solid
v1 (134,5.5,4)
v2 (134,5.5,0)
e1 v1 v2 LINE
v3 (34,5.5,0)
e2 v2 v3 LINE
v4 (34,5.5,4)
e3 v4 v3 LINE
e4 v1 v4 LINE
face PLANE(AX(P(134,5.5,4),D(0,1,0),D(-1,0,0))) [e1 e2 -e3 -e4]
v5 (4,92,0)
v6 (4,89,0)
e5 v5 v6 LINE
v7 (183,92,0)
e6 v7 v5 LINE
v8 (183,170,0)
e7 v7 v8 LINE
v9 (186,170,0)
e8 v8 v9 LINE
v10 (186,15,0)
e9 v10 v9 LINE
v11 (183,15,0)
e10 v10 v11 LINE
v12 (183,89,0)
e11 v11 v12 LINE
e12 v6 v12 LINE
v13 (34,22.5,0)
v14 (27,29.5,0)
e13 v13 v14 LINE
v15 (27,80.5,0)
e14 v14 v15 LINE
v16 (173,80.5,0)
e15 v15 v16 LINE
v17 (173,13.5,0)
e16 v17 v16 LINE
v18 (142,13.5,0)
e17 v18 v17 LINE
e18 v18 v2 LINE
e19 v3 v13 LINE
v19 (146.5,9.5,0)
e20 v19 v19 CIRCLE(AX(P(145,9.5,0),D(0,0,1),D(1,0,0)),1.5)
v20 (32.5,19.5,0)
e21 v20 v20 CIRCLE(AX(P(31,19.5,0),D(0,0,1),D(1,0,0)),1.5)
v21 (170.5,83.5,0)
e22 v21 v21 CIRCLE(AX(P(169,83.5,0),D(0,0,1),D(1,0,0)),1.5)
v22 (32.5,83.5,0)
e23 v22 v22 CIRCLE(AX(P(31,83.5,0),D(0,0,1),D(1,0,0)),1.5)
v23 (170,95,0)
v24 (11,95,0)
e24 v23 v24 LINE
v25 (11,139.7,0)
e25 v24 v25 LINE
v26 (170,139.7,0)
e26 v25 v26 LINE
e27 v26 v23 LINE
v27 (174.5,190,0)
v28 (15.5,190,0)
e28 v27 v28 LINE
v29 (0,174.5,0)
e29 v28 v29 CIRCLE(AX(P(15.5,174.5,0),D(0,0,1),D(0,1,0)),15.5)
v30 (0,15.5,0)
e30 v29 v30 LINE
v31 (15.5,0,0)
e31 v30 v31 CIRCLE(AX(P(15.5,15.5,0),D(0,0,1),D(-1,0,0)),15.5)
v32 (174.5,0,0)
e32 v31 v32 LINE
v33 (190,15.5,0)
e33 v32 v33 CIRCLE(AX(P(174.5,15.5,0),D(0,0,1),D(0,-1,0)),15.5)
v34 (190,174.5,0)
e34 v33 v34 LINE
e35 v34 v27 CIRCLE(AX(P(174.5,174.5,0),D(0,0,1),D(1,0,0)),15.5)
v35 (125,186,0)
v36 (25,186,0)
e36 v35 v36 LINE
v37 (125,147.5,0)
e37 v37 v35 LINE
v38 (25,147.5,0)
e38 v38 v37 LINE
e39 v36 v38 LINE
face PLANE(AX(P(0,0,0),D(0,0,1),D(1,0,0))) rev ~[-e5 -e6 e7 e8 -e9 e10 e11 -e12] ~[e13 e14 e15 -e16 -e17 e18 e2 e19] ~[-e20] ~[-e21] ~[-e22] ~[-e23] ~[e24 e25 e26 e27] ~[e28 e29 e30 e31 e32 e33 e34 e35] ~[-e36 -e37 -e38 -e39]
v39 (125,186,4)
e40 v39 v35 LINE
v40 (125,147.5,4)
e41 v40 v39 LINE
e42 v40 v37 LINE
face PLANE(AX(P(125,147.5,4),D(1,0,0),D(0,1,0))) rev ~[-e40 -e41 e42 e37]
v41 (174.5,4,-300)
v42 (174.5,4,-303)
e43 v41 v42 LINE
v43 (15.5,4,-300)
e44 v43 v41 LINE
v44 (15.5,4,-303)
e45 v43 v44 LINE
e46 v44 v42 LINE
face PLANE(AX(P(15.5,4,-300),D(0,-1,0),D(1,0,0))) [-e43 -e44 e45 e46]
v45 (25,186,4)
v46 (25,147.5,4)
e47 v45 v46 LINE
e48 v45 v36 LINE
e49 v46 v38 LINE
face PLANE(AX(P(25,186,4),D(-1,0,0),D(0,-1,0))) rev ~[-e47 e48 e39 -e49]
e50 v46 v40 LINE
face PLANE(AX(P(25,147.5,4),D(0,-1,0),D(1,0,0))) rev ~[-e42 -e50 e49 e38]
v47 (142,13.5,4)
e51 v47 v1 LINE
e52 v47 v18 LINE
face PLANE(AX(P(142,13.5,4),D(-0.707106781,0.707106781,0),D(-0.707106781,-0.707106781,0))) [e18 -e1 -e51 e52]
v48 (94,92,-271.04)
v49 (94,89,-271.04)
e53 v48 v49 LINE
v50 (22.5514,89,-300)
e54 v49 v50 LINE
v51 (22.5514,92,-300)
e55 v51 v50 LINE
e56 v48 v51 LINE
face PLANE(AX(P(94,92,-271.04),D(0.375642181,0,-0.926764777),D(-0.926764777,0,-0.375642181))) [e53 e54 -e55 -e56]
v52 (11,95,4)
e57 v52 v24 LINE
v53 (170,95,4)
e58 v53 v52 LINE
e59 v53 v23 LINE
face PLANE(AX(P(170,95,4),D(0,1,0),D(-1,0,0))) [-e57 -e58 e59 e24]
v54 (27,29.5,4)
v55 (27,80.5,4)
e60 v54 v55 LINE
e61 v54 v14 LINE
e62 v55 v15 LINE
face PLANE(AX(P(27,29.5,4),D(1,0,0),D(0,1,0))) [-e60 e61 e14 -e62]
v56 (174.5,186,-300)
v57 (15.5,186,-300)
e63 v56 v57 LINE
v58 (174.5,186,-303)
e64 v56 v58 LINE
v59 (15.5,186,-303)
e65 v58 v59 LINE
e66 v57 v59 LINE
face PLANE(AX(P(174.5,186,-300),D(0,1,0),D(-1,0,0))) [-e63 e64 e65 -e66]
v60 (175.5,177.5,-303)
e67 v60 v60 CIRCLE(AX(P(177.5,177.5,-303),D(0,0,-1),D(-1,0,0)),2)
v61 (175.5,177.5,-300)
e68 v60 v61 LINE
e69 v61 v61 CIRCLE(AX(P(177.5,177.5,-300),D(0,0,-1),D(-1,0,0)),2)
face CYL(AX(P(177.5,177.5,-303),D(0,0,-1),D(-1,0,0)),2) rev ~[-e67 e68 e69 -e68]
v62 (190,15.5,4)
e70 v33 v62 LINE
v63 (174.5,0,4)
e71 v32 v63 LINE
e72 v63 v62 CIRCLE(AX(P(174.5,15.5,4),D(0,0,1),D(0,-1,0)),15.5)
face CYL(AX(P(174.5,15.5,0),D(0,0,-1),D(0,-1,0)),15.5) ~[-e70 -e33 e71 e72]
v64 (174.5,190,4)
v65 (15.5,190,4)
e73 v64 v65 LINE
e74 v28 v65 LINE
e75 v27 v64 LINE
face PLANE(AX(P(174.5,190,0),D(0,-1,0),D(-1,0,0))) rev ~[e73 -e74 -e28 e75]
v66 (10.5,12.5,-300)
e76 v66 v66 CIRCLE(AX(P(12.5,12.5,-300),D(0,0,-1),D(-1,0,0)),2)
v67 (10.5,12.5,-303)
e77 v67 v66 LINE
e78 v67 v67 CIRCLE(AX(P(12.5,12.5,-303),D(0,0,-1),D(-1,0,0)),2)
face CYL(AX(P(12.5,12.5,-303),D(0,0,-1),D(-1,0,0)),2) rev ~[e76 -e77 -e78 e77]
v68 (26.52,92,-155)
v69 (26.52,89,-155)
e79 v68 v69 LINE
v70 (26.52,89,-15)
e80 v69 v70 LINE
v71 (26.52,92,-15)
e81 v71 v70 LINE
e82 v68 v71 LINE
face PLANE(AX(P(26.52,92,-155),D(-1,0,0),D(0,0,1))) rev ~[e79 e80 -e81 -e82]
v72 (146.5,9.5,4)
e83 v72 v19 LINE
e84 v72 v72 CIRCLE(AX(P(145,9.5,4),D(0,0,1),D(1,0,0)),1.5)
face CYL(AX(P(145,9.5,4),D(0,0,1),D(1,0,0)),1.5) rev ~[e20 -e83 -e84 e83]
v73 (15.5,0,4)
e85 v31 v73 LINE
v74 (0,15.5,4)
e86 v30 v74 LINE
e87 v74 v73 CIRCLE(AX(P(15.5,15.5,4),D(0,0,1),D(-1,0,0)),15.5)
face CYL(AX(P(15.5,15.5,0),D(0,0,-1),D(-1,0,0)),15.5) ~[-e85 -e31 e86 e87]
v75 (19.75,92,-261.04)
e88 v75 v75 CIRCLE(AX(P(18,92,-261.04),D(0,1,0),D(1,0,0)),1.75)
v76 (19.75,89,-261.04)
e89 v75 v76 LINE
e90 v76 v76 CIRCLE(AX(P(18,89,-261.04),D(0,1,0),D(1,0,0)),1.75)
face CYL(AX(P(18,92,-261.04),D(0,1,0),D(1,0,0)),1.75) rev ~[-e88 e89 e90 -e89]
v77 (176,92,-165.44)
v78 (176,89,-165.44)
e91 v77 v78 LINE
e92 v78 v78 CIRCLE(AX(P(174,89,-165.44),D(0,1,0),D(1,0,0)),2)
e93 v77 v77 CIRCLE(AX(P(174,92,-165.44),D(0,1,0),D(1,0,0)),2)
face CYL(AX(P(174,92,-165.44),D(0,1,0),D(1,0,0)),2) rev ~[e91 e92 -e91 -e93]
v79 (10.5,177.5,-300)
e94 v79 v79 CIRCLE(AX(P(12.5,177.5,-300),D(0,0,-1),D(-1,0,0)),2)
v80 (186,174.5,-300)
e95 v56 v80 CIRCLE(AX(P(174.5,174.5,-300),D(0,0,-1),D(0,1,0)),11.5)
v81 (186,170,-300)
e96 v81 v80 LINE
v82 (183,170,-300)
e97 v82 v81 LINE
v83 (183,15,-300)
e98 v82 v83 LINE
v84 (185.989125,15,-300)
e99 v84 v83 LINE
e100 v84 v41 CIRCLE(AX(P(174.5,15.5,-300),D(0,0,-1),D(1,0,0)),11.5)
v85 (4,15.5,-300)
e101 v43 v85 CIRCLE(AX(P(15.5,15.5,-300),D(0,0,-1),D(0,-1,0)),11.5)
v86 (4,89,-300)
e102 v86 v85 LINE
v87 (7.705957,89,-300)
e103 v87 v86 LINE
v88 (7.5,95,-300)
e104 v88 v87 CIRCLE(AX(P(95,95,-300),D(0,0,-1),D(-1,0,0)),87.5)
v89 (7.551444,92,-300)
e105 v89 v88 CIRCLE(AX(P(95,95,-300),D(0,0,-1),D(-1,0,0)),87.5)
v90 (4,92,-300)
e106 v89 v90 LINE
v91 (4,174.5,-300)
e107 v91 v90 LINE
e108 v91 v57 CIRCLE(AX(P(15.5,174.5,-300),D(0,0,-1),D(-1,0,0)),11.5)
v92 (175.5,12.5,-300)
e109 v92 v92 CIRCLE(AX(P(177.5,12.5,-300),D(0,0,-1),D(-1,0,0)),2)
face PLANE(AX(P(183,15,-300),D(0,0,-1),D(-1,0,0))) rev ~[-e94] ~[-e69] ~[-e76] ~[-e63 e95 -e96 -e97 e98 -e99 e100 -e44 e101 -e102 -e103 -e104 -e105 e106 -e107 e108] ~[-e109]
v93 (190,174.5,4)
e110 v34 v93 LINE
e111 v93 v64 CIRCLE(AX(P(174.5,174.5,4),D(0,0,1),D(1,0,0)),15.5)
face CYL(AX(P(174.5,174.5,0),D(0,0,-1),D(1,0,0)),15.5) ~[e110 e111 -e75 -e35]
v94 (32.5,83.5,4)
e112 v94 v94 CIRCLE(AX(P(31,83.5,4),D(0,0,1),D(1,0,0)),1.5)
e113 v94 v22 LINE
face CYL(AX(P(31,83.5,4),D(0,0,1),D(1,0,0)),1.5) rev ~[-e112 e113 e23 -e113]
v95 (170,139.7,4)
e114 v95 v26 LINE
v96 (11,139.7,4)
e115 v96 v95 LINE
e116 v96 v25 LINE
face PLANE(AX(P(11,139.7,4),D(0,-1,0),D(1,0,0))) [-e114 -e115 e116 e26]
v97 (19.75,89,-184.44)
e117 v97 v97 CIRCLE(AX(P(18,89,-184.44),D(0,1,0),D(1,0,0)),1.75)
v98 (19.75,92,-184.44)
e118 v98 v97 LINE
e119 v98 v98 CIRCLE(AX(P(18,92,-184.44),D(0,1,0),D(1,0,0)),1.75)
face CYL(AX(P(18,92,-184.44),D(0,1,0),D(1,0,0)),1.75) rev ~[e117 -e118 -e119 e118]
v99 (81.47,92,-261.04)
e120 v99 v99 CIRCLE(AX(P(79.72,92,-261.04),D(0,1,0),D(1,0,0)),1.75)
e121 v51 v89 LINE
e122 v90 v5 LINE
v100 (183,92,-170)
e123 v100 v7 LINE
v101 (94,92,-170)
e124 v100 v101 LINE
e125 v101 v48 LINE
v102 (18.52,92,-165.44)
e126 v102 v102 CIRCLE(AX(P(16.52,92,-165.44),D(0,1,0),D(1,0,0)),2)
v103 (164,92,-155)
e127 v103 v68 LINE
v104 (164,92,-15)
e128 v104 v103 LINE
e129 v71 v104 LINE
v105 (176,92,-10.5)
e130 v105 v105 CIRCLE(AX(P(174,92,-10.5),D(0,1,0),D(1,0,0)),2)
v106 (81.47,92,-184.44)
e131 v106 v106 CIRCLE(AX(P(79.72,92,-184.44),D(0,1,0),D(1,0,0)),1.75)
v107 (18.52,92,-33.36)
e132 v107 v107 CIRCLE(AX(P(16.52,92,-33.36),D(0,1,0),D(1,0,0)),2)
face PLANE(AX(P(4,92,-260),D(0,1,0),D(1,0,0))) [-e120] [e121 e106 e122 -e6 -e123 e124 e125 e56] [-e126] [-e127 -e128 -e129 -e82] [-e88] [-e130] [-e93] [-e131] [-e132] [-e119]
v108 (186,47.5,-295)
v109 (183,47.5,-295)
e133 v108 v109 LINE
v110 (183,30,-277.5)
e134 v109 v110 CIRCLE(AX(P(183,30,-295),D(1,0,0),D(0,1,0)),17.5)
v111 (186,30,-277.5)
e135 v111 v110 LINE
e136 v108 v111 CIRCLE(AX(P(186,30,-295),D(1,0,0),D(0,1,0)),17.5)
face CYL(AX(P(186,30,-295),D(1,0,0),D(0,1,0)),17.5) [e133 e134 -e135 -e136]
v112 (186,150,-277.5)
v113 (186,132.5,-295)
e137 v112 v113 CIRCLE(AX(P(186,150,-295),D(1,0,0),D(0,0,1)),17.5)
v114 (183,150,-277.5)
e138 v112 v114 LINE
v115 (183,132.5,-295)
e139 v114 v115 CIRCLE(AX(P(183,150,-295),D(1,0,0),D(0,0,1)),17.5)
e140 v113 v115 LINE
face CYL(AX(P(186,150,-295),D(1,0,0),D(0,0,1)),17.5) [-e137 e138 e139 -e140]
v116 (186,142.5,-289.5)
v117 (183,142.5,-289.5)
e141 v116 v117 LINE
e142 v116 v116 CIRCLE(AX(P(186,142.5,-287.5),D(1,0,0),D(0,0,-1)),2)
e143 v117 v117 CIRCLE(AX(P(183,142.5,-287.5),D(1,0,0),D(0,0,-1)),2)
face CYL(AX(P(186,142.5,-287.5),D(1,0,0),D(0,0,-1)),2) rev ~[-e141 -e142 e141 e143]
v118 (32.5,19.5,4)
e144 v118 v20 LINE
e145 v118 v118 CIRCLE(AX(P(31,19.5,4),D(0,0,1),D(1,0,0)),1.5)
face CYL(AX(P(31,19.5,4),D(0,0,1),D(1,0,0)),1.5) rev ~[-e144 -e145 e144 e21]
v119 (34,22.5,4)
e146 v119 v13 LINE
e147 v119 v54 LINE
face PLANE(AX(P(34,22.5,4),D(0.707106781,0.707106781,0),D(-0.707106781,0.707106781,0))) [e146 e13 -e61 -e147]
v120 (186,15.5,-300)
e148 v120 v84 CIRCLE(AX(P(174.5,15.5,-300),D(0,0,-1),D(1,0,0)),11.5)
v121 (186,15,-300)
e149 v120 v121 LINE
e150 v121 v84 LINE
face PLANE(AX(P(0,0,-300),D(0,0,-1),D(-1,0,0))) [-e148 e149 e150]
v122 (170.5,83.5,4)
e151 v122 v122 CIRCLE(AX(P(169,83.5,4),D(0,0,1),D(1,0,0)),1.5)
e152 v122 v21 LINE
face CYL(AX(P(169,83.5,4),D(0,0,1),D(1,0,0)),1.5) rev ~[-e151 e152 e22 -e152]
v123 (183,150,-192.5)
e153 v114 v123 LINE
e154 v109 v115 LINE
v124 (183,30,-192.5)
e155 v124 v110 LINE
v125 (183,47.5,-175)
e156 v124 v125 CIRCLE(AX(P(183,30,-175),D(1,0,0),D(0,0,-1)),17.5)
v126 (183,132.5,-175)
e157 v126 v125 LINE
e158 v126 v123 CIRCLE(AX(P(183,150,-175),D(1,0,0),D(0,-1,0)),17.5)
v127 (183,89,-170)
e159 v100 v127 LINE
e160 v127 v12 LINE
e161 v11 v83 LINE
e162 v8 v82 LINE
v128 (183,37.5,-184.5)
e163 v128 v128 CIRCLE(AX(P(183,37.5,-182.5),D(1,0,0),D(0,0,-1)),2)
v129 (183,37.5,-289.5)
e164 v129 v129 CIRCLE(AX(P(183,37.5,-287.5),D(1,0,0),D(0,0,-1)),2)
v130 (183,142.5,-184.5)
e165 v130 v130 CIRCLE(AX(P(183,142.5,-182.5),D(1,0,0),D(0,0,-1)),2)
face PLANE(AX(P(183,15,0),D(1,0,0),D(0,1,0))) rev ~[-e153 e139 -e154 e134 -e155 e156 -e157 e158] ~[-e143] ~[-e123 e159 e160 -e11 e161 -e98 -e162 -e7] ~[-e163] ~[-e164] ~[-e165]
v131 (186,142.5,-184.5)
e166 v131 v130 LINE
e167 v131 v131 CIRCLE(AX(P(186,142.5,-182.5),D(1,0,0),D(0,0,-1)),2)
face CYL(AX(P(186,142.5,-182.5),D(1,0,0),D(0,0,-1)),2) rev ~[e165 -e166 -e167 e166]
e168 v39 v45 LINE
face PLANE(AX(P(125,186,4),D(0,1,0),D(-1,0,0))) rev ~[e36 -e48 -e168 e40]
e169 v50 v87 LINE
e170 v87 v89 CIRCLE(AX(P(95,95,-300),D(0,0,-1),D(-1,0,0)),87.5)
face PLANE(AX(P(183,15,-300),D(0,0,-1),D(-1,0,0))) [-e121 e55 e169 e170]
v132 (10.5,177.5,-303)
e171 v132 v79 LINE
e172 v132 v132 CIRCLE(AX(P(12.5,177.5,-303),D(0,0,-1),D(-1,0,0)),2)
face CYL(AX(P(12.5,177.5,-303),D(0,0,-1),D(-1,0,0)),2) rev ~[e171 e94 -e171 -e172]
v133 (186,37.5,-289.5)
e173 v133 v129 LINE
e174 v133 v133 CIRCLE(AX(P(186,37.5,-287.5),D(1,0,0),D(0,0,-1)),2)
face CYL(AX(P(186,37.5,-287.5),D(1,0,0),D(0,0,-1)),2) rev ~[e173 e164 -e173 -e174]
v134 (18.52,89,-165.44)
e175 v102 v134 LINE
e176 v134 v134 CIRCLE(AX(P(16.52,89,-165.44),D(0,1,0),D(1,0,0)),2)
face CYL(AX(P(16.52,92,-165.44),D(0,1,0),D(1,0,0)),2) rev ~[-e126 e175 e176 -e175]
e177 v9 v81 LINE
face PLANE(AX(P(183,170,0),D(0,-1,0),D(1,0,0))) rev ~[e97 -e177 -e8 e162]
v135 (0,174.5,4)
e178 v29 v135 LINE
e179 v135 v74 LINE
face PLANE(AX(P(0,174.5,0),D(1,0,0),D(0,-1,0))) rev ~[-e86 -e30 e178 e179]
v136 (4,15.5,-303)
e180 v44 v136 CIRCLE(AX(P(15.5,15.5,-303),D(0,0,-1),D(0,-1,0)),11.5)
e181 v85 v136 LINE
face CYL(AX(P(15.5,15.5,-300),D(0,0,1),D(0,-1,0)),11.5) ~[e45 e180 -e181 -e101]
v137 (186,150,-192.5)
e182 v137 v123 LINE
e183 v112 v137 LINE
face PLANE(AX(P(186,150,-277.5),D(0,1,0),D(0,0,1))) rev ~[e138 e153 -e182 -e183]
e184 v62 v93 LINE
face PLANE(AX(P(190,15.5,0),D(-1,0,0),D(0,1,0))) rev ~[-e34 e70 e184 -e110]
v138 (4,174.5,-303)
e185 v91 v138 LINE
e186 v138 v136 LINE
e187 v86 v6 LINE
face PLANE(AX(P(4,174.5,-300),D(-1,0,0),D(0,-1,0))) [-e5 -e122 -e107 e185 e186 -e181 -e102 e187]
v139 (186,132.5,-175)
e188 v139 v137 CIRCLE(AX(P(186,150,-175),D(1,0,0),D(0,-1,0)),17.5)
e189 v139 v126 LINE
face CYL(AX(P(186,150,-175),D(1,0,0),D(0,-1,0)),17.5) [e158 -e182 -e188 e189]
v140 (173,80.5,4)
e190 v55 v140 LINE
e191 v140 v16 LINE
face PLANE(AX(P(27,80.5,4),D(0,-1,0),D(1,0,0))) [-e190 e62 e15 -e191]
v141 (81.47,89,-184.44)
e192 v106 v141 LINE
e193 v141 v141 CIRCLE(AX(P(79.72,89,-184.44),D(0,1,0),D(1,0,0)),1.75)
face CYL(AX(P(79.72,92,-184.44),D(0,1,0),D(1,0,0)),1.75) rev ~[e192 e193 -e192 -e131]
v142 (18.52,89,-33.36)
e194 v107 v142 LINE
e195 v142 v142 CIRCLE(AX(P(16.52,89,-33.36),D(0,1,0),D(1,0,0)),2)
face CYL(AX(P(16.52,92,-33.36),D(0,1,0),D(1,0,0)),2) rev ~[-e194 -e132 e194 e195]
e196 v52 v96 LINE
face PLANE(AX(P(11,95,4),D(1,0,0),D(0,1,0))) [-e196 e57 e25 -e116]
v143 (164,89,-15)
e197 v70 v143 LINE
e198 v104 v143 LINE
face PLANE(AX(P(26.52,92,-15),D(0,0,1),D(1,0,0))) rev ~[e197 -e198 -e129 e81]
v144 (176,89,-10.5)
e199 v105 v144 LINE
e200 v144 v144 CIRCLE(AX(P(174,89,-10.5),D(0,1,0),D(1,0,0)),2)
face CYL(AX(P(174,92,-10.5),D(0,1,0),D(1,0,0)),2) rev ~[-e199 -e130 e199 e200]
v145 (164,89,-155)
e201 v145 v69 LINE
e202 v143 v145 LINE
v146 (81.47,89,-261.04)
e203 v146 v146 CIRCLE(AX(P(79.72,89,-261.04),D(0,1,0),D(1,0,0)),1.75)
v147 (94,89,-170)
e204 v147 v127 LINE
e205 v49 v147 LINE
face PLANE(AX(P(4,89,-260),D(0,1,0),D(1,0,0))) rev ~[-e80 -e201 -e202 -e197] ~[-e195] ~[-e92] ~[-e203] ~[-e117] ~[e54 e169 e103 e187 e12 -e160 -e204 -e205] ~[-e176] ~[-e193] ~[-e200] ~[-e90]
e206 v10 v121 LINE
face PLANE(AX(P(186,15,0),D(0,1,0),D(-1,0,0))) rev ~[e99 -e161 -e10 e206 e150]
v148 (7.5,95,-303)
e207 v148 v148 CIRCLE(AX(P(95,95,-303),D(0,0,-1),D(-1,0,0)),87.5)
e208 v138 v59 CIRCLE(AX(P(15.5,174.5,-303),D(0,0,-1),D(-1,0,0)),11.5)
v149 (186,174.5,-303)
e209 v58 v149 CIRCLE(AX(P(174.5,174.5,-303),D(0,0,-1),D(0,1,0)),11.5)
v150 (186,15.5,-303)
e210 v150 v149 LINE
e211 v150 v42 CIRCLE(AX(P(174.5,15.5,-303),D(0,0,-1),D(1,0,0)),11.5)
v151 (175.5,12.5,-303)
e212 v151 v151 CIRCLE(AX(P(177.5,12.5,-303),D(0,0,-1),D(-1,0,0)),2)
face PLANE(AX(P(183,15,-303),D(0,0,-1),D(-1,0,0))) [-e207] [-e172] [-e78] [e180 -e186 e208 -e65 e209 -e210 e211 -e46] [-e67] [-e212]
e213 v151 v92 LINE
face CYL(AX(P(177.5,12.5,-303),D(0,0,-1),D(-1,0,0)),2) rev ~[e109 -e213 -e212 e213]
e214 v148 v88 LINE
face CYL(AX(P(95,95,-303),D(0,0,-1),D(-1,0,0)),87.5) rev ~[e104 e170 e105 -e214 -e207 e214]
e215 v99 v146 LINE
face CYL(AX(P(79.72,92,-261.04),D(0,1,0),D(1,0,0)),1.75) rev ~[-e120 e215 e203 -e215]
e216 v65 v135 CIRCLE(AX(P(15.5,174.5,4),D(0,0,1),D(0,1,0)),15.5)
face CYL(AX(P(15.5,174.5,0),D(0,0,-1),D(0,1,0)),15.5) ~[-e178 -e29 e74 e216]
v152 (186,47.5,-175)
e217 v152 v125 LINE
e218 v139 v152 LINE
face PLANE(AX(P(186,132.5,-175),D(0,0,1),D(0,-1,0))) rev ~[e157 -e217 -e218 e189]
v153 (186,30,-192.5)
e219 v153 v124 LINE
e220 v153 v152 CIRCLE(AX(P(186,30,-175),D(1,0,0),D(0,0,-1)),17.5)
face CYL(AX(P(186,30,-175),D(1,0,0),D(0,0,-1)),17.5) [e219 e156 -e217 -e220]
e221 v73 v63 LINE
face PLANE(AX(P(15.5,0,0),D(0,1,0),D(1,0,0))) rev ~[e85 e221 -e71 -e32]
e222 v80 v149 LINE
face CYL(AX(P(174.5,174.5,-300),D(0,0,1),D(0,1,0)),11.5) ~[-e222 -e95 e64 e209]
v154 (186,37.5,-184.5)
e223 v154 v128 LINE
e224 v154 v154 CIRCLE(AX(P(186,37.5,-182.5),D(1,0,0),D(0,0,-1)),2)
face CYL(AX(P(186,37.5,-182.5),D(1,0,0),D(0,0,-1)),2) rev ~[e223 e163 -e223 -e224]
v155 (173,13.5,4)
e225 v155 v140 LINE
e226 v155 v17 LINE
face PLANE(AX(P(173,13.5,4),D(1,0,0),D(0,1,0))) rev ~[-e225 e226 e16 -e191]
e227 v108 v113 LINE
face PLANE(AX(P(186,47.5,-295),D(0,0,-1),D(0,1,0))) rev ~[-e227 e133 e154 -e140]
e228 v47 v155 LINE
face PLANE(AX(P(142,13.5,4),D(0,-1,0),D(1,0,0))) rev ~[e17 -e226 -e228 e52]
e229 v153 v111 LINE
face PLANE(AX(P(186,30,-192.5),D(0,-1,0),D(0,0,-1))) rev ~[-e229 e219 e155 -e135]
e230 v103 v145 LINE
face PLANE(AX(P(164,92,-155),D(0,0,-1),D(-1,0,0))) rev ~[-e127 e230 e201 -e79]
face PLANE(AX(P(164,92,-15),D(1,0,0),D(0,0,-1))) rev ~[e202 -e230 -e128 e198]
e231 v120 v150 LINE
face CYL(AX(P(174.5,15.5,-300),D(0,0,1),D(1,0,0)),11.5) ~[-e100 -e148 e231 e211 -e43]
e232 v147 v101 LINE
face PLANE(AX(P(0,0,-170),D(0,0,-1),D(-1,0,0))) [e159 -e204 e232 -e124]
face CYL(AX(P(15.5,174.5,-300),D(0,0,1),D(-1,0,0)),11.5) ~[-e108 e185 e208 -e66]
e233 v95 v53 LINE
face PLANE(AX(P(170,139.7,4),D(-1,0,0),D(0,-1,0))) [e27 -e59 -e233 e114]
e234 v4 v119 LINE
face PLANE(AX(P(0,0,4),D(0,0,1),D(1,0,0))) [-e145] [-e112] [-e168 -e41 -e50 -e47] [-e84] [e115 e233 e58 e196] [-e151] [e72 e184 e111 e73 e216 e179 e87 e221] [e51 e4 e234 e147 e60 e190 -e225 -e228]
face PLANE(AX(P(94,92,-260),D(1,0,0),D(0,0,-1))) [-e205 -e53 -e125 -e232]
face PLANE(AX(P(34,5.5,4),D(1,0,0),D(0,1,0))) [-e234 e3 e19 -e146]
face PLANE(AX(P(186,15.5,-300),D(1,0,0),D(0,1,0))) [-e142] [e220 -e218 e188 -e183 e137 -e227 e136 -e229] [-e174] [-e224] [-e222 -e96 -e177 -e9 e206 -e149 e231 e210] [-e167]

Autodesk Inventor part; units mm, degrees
ref_plane "YZ Plane" through (0, 0, 0) normal (1, 0, 0) x (0, 1, 0)
ref_plane "XZ Plane" through (0, 0, 0) normal (0, 1, 0) x (-1, 0, 0)
ref_plane "XY Plane" through (0, 0, 0) normal (0, 0, 1) x (1, 0, 0)
sketch "Sketch1" plane through (0, 0, 0) normal (0, 0, 1) x (1, 0, 0)
  line L0 (15.5, 0) -> (174.5, 0)
  line L1 (190, 15.5) -> (190, 174.5)
  line L2 (174.5, 190) -> (15.5, 190)
  line L3 (0, 174.5) -> (0, 15.5)
  arc A0 (15.5, 190) -> (0, 174.5) centre (15.5, 174.5) ccw
  arc A1 (190, 174.5) -> (174.5, 190) centre (174.5, 174.5) ccw
  arc A2 (174.5, 0) -> (190, 15.5) centre (174.5, 15.5) ccw
  arc A3 (0, 15.5) -> (15.5, 0) centre (15.5, 15.5) ccw
  line L4 (15.5, 186.5) -> (174.5, 186.5) construction
  arc A4 (186.5, 174.5) -> (174.5, 186.5) centre (174.5, 174.5) ccw construction
  line L5 (186.5, 174.5) -> (186.5, 15.5) construction
  arc A5 (174.5, 3.5) -> (186.5, 15.5) centre (174.5, 15.5) ccw construction
  line L6 (174.5, 3.5) -> (15.5, 3.5) construction
  arc A6 (3.5, 15.5) -> (15.5, 3.5) centre (15.5, 15.5) ccw construction
  line L7 (3.5, 15.5) -> (3.5, 174.5) construction
  arc A7 (15.5, 186.5) -> (3.5, 174.5) centre (15.5, 174.5) ccw construction
  point P0 (0, 0)
  dimension "d75" = 12
  dimension "d76" = 183
  dimension "d77" = 3.5
  dimension "d78" = 183
extrude "Extrusion1" add sketch "Sketch1" along normal blind 4
sketch "Sketch2" plane through (0, 0, 0) normal (0, 0, -1) x (-1, 0, 0)
  line L0 (-186, 92) -> (-4, 92)
  line L1 (-4, 92) -> (-4, 89)
  line L2 (-4, 89) -> (-186, 89)
  line L3 (-186, 89) -> (-186, 92)
  line L4 (-174.5, 0) -> (-15.5, 0) projected
  line L5 (-190, 174.5) -> (-190, 15.5) projected
  line L6 (0, 15.5) -> (0, 174.5) projected
  point P0 (0, 0)
  dimension "d5" = 3
  dimension "d23" = 89
  dimension "d41" = 4
  dimension "d42" = 4
extrude "Extrusion2" add sketch "Sketch2" along normal blind 170
sketch "Sketch3" plane through (0, 0, 4) normal (0, 0, 1) x (1, 0, 0)
  line L0 (25, 88.5) -> (175, 88.5) construction
  line L1 (175, 88.5) -> (175, 3.5) construction
  line L2 (175, 3.5) -> (25, 3.5) construction
  line L3 (25, 3.5) -> (25, 88.5) construction
  line L4 (31, 83.5) -> (169, 83.5) construction
  line L5 (169, 83.5) -> (169, 9.5) construction
  line L6 (145, 19.5) -> (31, 19.5) construction
  line L7 (31, 19.5) -> (31, 83.5) construction
  line L8 (145, 19.5) -> (145, 9.5) construction
  line L9 (145, 9.5) -> (169, 9.5) construction
  circle A0 centre (31, 83.5) radius 1.5
  circle A1 centre (31, 19.5) radius 1.5
  circle A2 centre (169, 83.5) radius 1.5
  circle A3 centre (145, 9.5) radius 1.5
  line L10 (34, 80.5) -> (34, 22.5) construction
  line L11 (34, 13.5) -> (142, 13.5) construction
  line L12 (173, 13.5) -> (173, 80.5)
  line L13 (173, 80.5) -> (34, 80.5)
  line L14 (15.5, 0) -> (174.5, 0) projected
  line L15 (190, 15.5) -> (190, 174.5) projected
  line L16 (34, 22.5) -> (27, 29.5)
  line L17 (27, 29.5) -> (27, 80.5)
  line L18 (27, 80.5) -> (34, 80.5)
  line L19 (34, 22.5) -> (34, 13.5)
  line L20 (142, 13.5) -> (134, 5.5)
  line L21 (134, 5.5) -> (34, 5.5)
  line L22 (34, 5.5) -> (34, 13.5)
  line L23 (142, 13.5) -> (173, 13.5)
  point P0 (0, 0)
  dimension "d8" = 3
  dimension "d9" = 138
  dimension "d10" = 64
  dimension "d11" = 74
  dimension "d12" = 114
  dimension "d13" = 6
  dimension "d14" = 6
  dimension "d15" = 5
  dimension "d16" = 6
  dimension "d17" = 8
  dimension "d18" = 2
  dimension "d19" = 4
  dimension "d20" = 9
  dimension "d24" = 85
  dimension "d26" = 15
  dimension "d40" = 3.5
  dimension "d79" = 135
  dimension "d80" = 2
  dimension "d81" = 3
  dimension "d82" = 135
  dimension "d83" = 3
  dimension "d84" = 2
  dimension "d85" = 88.5
extrude "Extrusion3" cut sketch "Sketch3" against normal blind 198.25
sketch "Sketch4" plane through (4, 92, 0) normal (0, 1, 0) x (1, 0, 0)
  line L0 (170, 165.44) -> (170, 10.5) construction
  line L1 (170, 10.5) -> (12.52, 10.5) construction
  line L2 (12.52, 10.5) -> (12.52, 165.44) construction
  line L3 (12.52, 165.44) -> (170, 165.44) construction
  circle A0 centre (170, 10.5) radius 2
  circle A1 centre (170, 165.44) radius 2
  circle A2 centre (12.52, 165.44) radius 2
  circle A3 centre (12.52, 33.36) radius 2
  line L4 (0, 0) -> (182, 0) projected
  line L5 (0, 0) -> (0, 170) projected
  line L6 (182, 0) -> (182, 170) projected
  point P0 (-4, 0)
  point P1 (-3, 350)
  dimension "d28" = 154.94
  dimension "d29" = 22.86
  dimension "d30" = 4
  dimension "d32" = 10.5
  dimension "d37" = 157.48
  dimension "d38" = 12
  dimension "d39" = 12.52
extrude "Extrusion4" cut sketch "Sketch4" against normal blind 198.25
sketch "Sketch5" plane through (4, 89, 0) normal (0, -1, 0) x (1, 0, 0)
  line L0 (90, -170) -> (90, -260)
  line L1 (90, -260) -> (0, -260)
  line L2 (0, -260) -> (0, -170)
  line L3 (90, -170) -> (0, -170)
  line L4 (0, -170) -> (182, -170) projected
  point P0 (-4, 0)
  dimension "d43" = 90
  dimension "d117" = 90
extrude "Extrusion5" add sketch "Sketch5" against normal up to surface (3 mm away)
sketch "Sketch6" plane through (0, 0, 0) normal (0, 0, -1) x (-1, 0, 0)
  line L0 (-183, 170) -> (-186, 170)
  line L1 (-186, 170) -> (-186, 15)
  line L2 (-186, 15) -> (-183, 15)
  line L3 (-183, 15) -> (-183, 170)
  line L4 (-4, 89) -> (-4, 92) projected
  line L5 (-15.5, 190) -> (-174.5, 190) projected
  line L6 (-174.5, 0) -> (-15.5, 0) construction
  arc A0 (-15.5, 0) -> (0, 15.5) centre (-15.5, 15.5) ccw construction
  line L7 (0, 15.5) -> (0, 174.5) construction
  line L8 (-3.5, 174.5) -> (-3.5, 15.5) construction
  arc A1 (-15.5, 3.5) -> (-3.5, 15.5) centre (-15.5, 15.5) ccw construction
  line L9 (-15.5, 3.5) -> (-174.5, 3.5) construction
  line L10 (-94, 89) -> (-94, 92) projected
  line L11 (-186, 92) -> (-186, 89) projected
  point P0 (0, 0)
  dimension "d47" = 3
  dimension "d48" = 20
  dimension "d49" = 15
extrude "Extrusion6" add sketch "Sketch6" along normal blind 315
sketch "Sketch7" plane through (186, 92, 0) normal (1, 0, 0) x (0, 0, -1)
  line L0 (182.5, -54.5) -> (287.5, -54.5) construction
  line L1 (287.5, -54.5) -> (287.5, 50.5) construction
  line L2 (287.5, 50.5) -> (182.5, 50.5) construction
  line L3 (182.5, 50.5) -> (182.5, -54.5) construction
  circle A0 centre (182.5, -54.5) radius 2
  circle A1 centre (182.5, 50.5) radius 2
  circle A2 centre (287.5, 50.5) radius 2
  circle A3 centre (287.5, -54.5) radius 2
  line L4 (175, -62) -> (295, -62)
  line L5 (295, -62) -> (295, 58)
  line L6 (295, 58) -> (175, 58)
  line L7 (175, 58) -> (175, -62)
  arc A4 (192.5, -62) -> (175, -44.5) centre (175, -62) ccw
  arc A5 (175, 40.5) -> (192.5, 58) centre (175, 58) ccw
  arc A6 (277.5, 58) -> (295, 40.5) centre (295, 58) ccw
  arc A7 (295, -44.5) -> (277.5, -62) centre (295, -62) ccw
  line L8 (170, -3) -> (170, 0) projected
  line L9 (0, -77) -> (315, -77) projected
  point P0 (0, -92)
  dimension "d52" = 105
  dimension "d53" = 105
  dimension "d54" = 4
  dimension "d55" = 120
  dimension "d56" = 35
  dimension "d57" = 5
  dimension "d58" = 15
extrude "Extrusion7" cut sketch "Sketch7" against normal up to surface (3 mm away) contours A0 | A1 | A2 | A3 | A4 L7 A5 L6 A6 L5 A7 L4
sketch "Sketch8" plane through (4, 92, -260) normal (0, 1, 0) x (1, 0, 0)
  line L0 (182, 55) -> (0, 55)
  line L1 (0, 55) -> (0, 0)
  line L2 (90, 0) -> (90, 40)
  line L3 (90, 40) -> (182, 40)
  line L4 (182, 55) -> (182, 40)
  line L5 (0, 0) -> (90, 0) projected
  line L6 (90, -90) -> (90, 0) projected
  line L7 (90, 0) -> (0, 0)
  point P0 (-4, -260)
  dimension "d63" = 15
extrude "Extrusion8" add sketch "Sketch8" against normal up to surface (3 mm away)
sketch "Sketch9" plane through (186, 92, -315) normal (0, 1, 0) x (1, 0, 0)
  line L0 (-102.28, -44.96) -> (-172, -44.96) construction
  line L1 (-172, -44.96) -> (-172, -144.56) construction
  line L2 (-172, -144.56) -> (-102.28, -144.56) construction
  line L3 (-102.28, -144.56) -> (-102.28, -44.96) construction
  line L4 (-106.28, -53.96) -> (-168, -53.96) construction
  line L5 (-168, -53.96) -> (-168, -130.56) construction
  line L6 (-168, -130.56) -> (-106.28, -130.56) construction
  line L7 (-106.28, -130.56) -> (-106.28, -53.96) construction
  circle A0 centre (-106.28, -53.96) radius 1.75
  circle A1 centre (-106.28, -130.56) radius 1.75
  circle A2 centre (-168, -130.56) radius 1.75
  circle A3 centre (-168, -53.96) radius 1.75
  circle A4 centre (-12, -149.56) radius 2 projected
  line L8 (-182, -315) -> (-182, 0) projected
  point P0 (-186, -315)
  point P1 (92, -315)
  point P2 (0, -315)
  point P3 (-92, -145)
  dimension "d64" = 61.72
  dimension "d65" = 76.6
  dimension "d66" = 9
  dimension "d67" = 4
  dimension "d68" = 4
  dimension "d69" = 14
  dimension "d70" = 3.5
  dimension "d73" = 5
  dimension "d120" = 10
  dimension "d143" = 10.28
extrude "SSD Mounting" cut sketch "Sketch9" against normal blind 10 contours A0 | A1 | A2 | A3
sketch "Sketch10" plane through (0, 0, 4) normal (0, 0, 1) x (1, 0, 0)
  line L0 (11, 139.7) -> (170, 139.7)
  line L1 (170, 139.7) -> (170, 95)
  line L2 (170, 95) -> (11, 95)
  line L3 (11, 95) -> (11, 139.7)
  line L4 (174.5, 190) -> (15.5, 190) projected
  line L5 (190, 15.5) -> (190, 174.5) projected
  line L6 (183, 92) -> (4, 92) projected
  line L7 (125, 186) -> (25, 186)
  line L8 (25, 186) -> (25, 147.5)
  line L9 (25, 147.5) -> (125, 147.5)
  line L10 (125, 147.5) -> (125, 186)
  line L11 (0, 174.5) -> (0, 15.5) projected
  point P0 (0, 0)
  dimension "d100" = 44.7
  dimension "d101" = 159
  dimension "d102" = 3
  dimension "d103" = 20
  dimension "d106" = 100
  dimension "d107" = 38.5
  dimension "d108" = 4
  dimension "d119" = 25
extrude "GPIO" cut sketch "Sketch10" against normal blind 10
sketch "Sketch11" plane through (186, 92, -315) normal (0, 1, 0) x (1, 0, 0)
  line L0 (-159.48, -300) -> (-22, -300)
  line L1 (-22, -300) -> (-22, -160)
  line L2 (-22, -160) -> (-159.48, -160)
  line L3 (-159.48, -160) -> (-159.48, -300)
  line L4 (-92, -145) -> (-3, -145) projected
  line L5 (-170.5, -315) -> (-11.5, -315) projected
  circle A0 centre (-169.48, -281.64) radius 2 projected
  circle A1 centre (-12, -304.5) radius 2 projected
  point P0 (-186, -315)
  point P1 (-90, -145)
  point P2 (-182, -145)
  point P3 (92, -145)
  dimension "d111" = 15
  dimension "d112" = 15
  dimension "d113" = 10
  dimension "d114" = 10
extrude "Extrusion11" cut sketch "Sketch11" against normal blind 10 contours L3 L2 L1 L0
sketch "Sketch12" plane through (4, 89, 0) normal (0, -1, 0) x (1, 0, 0)
  line L0 (103.6, -317.44) -> (2, -317.44) construction
  line L1 (2, -317.44) -> (2, -170.44) construction
  line L2 (2, -170.44) -> (103.6, -170.44) construction
  line L3 (103.6, -170.44) -> (103.6, -317.44) construction
  line L4 (100.42, -276.16) -> (5.17, -276.16) construction
  line L5 (5.17, -276.16) -> (5.17, -199.96) construction
  line L6 (5.17, -199.96) -> (100.42, -199.96) construction
  line L7 (100.42, -199.96) -> (100.42, -276.16) construction
  circle A0 centre (100.42, -276.16) radius 1.75
  circle A1 centre (5.17, -276.16) radius 1.75
  circle A2 centre (100.42, -199.96) radius 1.75
  circle A3 centre (5.17, -199.96) radius 1.75
  line L8 (0, -315) -> (0, 0) projected
  circle A4 centre (12.52, -165.44) radius 2 projected
  point P0 (-4, 0)
  dimension "d121" = 101.6
  dimension "d122" = 147
  dimension "d123" = 3.5
  dimension "d124" = 95.25
  dimension "d125" = 76.2
  dimension "d126" = 41.28
  dimension "d127" = 3.18
  dimension "d128" = 2
  dimension "d129" = 5
extrude "HDD Mounting" [suppressed]
sketch "Sketch13" plane through (0, 0, -315) normal (0, 0, -1) x (-1, 0, 0)
  line L0 (-213.8509, 179.2574) -> (37.5772, 179.2574)
  line L1 (37.5772, 179.2574) -> (37.5772, -21.9261)
  line L2 (37.5772, -21.9261) -> (-213.8509, -21.9261)
  line L3 (-213.8509, -21.9261) -> (-213.8509, 179.2574)
  point P0 (0, 0)
extrude "Extrusion13" cut sketch "Sketch13" against normal up to surface (15 mm away)
sketch "Sketch14" plane through (183, 15, -300) normal (0, 0, -1) x (-1, 0, 0)
  line L0 (167.5, 175) -> (8.5, 175) projected
  arc A0 (8.5, 175) -> (-7, 159.5) centre (8.5, 159.5) ccw projected
  line L1 (-7, 159.5) -> (-7, 0.5) projected
  arc A1 (-7, 0.5) -> (8.5, -15) centre (8.5, 0.5) ccw projected
  line L2 (8.5, -15) -> (167.5, -15) projected
  arc A2 (167.5, -15) -> (183, 0.5) centre (167.5, 0.5) ccw projected
  line L3 (183, 0.5) -> (183, 159.5) projected
  arc A3 (183, 159.5) -> (167.5, 175) centre (167.5, 159.5) ccw projected
  line L4 (8.5, 171) -> (167.5, 171)
  arc A4 (179, 159.5) -> (167.5, 171) centre (167.5, 159.5) ccw
  line L5 (179, 159.5) -> (179, 0.5)
  arc A5 (167.5, -11) -> (179, 0.5) centre (167.5, 0.5) ccw
  line L6 (167.5, -11) -> (8.5, -11)
  arc A6 (-3, 0.5) -> (8.5, -11) centre (8.5, 0.5) ccw
  line L7 (-3, 0.5) -> (-3, 159.5)
  arc A7 (8.5, 171) -> (-3, 159.5) centre (8.5, 159.5) ccw
  point P0 (183, -15)
  dimension "d134" = 182
extrude "Extrusion14" add sketch "Sketch14" along normal blind 3 contours L4 A4 L5 A5 L6 A6 L7 A7
sketch "Sketch15" plane through (183, 15, -303) normal (0, 0, -1) x (-1, 0, 0)
  line L0 (5.5, 162.5) -> (170.5, 162.5) construction
  line L1 (170.5, 162.5) -> (170.5, -2.5) construction
  line L2 (170.5, -2.5) -> (5.5, -2.5) construction
  line L3 (5.5, -2.5) -> (5.5, 162.5) construction
  circle A0 centre (5.5, 162.5) radius 2
  circle A1 centre (170.5, 162.5) radius 2
  circle A2 centre (170.5, -2.5) radius 2
  circle A3 centre (5.5, -2.5) radius 2
  arc A4 (167.5, -11) -> (179, 0.5) centre (167.5, 0.5) ccw projected
  arc A5 (8.5, 171) -> (-3, 159.5) centre (8.5, 159.5) ccw projected
  line L4 (8.5, 159.5) -> (167.5, 0.5) construction
  line L5 (5.5, -2.5) -> (88, 80) construction
  line L6 (88, 80) -> (170.5, 162.5) construction
  circle A6 centre (88, 80) radius 87.5
  point P0 (183, -15)
  dimension "d137" = 165
  dimension "d138" = 165
  dimension "d139" = 4
  dimension "d142" = 175
extrude "Extrusion15" cut sketch "Sketch15" against normal up to surface (3 mm away)
sketch "Sketch16" plane through (4, 92, 0) normal (0, 1, 0) x (1, 0, 0)
  line L0 (90, 170) -> (90, 300) projected
  line L1 (90, 300) -> (90, 271.04)
  line L2 (90, 271.04) -> (18.5514, 300)
  line L3 (90, 300) -> (3.5514, 300) projected
  line L4 (18.5514, 300) -> (90, 300)
  circle A0 centre (75.72, 261.04) radius 1.75 projected
  point P0 (-4, 0)
  dimension "d144" = 10
  dimension "d145" = 15
extrude "Extrusion16" cut sketch "Sketch16" against normal blind 3 contours L2 L3 L0
properties part number "ExtrusionTray"
